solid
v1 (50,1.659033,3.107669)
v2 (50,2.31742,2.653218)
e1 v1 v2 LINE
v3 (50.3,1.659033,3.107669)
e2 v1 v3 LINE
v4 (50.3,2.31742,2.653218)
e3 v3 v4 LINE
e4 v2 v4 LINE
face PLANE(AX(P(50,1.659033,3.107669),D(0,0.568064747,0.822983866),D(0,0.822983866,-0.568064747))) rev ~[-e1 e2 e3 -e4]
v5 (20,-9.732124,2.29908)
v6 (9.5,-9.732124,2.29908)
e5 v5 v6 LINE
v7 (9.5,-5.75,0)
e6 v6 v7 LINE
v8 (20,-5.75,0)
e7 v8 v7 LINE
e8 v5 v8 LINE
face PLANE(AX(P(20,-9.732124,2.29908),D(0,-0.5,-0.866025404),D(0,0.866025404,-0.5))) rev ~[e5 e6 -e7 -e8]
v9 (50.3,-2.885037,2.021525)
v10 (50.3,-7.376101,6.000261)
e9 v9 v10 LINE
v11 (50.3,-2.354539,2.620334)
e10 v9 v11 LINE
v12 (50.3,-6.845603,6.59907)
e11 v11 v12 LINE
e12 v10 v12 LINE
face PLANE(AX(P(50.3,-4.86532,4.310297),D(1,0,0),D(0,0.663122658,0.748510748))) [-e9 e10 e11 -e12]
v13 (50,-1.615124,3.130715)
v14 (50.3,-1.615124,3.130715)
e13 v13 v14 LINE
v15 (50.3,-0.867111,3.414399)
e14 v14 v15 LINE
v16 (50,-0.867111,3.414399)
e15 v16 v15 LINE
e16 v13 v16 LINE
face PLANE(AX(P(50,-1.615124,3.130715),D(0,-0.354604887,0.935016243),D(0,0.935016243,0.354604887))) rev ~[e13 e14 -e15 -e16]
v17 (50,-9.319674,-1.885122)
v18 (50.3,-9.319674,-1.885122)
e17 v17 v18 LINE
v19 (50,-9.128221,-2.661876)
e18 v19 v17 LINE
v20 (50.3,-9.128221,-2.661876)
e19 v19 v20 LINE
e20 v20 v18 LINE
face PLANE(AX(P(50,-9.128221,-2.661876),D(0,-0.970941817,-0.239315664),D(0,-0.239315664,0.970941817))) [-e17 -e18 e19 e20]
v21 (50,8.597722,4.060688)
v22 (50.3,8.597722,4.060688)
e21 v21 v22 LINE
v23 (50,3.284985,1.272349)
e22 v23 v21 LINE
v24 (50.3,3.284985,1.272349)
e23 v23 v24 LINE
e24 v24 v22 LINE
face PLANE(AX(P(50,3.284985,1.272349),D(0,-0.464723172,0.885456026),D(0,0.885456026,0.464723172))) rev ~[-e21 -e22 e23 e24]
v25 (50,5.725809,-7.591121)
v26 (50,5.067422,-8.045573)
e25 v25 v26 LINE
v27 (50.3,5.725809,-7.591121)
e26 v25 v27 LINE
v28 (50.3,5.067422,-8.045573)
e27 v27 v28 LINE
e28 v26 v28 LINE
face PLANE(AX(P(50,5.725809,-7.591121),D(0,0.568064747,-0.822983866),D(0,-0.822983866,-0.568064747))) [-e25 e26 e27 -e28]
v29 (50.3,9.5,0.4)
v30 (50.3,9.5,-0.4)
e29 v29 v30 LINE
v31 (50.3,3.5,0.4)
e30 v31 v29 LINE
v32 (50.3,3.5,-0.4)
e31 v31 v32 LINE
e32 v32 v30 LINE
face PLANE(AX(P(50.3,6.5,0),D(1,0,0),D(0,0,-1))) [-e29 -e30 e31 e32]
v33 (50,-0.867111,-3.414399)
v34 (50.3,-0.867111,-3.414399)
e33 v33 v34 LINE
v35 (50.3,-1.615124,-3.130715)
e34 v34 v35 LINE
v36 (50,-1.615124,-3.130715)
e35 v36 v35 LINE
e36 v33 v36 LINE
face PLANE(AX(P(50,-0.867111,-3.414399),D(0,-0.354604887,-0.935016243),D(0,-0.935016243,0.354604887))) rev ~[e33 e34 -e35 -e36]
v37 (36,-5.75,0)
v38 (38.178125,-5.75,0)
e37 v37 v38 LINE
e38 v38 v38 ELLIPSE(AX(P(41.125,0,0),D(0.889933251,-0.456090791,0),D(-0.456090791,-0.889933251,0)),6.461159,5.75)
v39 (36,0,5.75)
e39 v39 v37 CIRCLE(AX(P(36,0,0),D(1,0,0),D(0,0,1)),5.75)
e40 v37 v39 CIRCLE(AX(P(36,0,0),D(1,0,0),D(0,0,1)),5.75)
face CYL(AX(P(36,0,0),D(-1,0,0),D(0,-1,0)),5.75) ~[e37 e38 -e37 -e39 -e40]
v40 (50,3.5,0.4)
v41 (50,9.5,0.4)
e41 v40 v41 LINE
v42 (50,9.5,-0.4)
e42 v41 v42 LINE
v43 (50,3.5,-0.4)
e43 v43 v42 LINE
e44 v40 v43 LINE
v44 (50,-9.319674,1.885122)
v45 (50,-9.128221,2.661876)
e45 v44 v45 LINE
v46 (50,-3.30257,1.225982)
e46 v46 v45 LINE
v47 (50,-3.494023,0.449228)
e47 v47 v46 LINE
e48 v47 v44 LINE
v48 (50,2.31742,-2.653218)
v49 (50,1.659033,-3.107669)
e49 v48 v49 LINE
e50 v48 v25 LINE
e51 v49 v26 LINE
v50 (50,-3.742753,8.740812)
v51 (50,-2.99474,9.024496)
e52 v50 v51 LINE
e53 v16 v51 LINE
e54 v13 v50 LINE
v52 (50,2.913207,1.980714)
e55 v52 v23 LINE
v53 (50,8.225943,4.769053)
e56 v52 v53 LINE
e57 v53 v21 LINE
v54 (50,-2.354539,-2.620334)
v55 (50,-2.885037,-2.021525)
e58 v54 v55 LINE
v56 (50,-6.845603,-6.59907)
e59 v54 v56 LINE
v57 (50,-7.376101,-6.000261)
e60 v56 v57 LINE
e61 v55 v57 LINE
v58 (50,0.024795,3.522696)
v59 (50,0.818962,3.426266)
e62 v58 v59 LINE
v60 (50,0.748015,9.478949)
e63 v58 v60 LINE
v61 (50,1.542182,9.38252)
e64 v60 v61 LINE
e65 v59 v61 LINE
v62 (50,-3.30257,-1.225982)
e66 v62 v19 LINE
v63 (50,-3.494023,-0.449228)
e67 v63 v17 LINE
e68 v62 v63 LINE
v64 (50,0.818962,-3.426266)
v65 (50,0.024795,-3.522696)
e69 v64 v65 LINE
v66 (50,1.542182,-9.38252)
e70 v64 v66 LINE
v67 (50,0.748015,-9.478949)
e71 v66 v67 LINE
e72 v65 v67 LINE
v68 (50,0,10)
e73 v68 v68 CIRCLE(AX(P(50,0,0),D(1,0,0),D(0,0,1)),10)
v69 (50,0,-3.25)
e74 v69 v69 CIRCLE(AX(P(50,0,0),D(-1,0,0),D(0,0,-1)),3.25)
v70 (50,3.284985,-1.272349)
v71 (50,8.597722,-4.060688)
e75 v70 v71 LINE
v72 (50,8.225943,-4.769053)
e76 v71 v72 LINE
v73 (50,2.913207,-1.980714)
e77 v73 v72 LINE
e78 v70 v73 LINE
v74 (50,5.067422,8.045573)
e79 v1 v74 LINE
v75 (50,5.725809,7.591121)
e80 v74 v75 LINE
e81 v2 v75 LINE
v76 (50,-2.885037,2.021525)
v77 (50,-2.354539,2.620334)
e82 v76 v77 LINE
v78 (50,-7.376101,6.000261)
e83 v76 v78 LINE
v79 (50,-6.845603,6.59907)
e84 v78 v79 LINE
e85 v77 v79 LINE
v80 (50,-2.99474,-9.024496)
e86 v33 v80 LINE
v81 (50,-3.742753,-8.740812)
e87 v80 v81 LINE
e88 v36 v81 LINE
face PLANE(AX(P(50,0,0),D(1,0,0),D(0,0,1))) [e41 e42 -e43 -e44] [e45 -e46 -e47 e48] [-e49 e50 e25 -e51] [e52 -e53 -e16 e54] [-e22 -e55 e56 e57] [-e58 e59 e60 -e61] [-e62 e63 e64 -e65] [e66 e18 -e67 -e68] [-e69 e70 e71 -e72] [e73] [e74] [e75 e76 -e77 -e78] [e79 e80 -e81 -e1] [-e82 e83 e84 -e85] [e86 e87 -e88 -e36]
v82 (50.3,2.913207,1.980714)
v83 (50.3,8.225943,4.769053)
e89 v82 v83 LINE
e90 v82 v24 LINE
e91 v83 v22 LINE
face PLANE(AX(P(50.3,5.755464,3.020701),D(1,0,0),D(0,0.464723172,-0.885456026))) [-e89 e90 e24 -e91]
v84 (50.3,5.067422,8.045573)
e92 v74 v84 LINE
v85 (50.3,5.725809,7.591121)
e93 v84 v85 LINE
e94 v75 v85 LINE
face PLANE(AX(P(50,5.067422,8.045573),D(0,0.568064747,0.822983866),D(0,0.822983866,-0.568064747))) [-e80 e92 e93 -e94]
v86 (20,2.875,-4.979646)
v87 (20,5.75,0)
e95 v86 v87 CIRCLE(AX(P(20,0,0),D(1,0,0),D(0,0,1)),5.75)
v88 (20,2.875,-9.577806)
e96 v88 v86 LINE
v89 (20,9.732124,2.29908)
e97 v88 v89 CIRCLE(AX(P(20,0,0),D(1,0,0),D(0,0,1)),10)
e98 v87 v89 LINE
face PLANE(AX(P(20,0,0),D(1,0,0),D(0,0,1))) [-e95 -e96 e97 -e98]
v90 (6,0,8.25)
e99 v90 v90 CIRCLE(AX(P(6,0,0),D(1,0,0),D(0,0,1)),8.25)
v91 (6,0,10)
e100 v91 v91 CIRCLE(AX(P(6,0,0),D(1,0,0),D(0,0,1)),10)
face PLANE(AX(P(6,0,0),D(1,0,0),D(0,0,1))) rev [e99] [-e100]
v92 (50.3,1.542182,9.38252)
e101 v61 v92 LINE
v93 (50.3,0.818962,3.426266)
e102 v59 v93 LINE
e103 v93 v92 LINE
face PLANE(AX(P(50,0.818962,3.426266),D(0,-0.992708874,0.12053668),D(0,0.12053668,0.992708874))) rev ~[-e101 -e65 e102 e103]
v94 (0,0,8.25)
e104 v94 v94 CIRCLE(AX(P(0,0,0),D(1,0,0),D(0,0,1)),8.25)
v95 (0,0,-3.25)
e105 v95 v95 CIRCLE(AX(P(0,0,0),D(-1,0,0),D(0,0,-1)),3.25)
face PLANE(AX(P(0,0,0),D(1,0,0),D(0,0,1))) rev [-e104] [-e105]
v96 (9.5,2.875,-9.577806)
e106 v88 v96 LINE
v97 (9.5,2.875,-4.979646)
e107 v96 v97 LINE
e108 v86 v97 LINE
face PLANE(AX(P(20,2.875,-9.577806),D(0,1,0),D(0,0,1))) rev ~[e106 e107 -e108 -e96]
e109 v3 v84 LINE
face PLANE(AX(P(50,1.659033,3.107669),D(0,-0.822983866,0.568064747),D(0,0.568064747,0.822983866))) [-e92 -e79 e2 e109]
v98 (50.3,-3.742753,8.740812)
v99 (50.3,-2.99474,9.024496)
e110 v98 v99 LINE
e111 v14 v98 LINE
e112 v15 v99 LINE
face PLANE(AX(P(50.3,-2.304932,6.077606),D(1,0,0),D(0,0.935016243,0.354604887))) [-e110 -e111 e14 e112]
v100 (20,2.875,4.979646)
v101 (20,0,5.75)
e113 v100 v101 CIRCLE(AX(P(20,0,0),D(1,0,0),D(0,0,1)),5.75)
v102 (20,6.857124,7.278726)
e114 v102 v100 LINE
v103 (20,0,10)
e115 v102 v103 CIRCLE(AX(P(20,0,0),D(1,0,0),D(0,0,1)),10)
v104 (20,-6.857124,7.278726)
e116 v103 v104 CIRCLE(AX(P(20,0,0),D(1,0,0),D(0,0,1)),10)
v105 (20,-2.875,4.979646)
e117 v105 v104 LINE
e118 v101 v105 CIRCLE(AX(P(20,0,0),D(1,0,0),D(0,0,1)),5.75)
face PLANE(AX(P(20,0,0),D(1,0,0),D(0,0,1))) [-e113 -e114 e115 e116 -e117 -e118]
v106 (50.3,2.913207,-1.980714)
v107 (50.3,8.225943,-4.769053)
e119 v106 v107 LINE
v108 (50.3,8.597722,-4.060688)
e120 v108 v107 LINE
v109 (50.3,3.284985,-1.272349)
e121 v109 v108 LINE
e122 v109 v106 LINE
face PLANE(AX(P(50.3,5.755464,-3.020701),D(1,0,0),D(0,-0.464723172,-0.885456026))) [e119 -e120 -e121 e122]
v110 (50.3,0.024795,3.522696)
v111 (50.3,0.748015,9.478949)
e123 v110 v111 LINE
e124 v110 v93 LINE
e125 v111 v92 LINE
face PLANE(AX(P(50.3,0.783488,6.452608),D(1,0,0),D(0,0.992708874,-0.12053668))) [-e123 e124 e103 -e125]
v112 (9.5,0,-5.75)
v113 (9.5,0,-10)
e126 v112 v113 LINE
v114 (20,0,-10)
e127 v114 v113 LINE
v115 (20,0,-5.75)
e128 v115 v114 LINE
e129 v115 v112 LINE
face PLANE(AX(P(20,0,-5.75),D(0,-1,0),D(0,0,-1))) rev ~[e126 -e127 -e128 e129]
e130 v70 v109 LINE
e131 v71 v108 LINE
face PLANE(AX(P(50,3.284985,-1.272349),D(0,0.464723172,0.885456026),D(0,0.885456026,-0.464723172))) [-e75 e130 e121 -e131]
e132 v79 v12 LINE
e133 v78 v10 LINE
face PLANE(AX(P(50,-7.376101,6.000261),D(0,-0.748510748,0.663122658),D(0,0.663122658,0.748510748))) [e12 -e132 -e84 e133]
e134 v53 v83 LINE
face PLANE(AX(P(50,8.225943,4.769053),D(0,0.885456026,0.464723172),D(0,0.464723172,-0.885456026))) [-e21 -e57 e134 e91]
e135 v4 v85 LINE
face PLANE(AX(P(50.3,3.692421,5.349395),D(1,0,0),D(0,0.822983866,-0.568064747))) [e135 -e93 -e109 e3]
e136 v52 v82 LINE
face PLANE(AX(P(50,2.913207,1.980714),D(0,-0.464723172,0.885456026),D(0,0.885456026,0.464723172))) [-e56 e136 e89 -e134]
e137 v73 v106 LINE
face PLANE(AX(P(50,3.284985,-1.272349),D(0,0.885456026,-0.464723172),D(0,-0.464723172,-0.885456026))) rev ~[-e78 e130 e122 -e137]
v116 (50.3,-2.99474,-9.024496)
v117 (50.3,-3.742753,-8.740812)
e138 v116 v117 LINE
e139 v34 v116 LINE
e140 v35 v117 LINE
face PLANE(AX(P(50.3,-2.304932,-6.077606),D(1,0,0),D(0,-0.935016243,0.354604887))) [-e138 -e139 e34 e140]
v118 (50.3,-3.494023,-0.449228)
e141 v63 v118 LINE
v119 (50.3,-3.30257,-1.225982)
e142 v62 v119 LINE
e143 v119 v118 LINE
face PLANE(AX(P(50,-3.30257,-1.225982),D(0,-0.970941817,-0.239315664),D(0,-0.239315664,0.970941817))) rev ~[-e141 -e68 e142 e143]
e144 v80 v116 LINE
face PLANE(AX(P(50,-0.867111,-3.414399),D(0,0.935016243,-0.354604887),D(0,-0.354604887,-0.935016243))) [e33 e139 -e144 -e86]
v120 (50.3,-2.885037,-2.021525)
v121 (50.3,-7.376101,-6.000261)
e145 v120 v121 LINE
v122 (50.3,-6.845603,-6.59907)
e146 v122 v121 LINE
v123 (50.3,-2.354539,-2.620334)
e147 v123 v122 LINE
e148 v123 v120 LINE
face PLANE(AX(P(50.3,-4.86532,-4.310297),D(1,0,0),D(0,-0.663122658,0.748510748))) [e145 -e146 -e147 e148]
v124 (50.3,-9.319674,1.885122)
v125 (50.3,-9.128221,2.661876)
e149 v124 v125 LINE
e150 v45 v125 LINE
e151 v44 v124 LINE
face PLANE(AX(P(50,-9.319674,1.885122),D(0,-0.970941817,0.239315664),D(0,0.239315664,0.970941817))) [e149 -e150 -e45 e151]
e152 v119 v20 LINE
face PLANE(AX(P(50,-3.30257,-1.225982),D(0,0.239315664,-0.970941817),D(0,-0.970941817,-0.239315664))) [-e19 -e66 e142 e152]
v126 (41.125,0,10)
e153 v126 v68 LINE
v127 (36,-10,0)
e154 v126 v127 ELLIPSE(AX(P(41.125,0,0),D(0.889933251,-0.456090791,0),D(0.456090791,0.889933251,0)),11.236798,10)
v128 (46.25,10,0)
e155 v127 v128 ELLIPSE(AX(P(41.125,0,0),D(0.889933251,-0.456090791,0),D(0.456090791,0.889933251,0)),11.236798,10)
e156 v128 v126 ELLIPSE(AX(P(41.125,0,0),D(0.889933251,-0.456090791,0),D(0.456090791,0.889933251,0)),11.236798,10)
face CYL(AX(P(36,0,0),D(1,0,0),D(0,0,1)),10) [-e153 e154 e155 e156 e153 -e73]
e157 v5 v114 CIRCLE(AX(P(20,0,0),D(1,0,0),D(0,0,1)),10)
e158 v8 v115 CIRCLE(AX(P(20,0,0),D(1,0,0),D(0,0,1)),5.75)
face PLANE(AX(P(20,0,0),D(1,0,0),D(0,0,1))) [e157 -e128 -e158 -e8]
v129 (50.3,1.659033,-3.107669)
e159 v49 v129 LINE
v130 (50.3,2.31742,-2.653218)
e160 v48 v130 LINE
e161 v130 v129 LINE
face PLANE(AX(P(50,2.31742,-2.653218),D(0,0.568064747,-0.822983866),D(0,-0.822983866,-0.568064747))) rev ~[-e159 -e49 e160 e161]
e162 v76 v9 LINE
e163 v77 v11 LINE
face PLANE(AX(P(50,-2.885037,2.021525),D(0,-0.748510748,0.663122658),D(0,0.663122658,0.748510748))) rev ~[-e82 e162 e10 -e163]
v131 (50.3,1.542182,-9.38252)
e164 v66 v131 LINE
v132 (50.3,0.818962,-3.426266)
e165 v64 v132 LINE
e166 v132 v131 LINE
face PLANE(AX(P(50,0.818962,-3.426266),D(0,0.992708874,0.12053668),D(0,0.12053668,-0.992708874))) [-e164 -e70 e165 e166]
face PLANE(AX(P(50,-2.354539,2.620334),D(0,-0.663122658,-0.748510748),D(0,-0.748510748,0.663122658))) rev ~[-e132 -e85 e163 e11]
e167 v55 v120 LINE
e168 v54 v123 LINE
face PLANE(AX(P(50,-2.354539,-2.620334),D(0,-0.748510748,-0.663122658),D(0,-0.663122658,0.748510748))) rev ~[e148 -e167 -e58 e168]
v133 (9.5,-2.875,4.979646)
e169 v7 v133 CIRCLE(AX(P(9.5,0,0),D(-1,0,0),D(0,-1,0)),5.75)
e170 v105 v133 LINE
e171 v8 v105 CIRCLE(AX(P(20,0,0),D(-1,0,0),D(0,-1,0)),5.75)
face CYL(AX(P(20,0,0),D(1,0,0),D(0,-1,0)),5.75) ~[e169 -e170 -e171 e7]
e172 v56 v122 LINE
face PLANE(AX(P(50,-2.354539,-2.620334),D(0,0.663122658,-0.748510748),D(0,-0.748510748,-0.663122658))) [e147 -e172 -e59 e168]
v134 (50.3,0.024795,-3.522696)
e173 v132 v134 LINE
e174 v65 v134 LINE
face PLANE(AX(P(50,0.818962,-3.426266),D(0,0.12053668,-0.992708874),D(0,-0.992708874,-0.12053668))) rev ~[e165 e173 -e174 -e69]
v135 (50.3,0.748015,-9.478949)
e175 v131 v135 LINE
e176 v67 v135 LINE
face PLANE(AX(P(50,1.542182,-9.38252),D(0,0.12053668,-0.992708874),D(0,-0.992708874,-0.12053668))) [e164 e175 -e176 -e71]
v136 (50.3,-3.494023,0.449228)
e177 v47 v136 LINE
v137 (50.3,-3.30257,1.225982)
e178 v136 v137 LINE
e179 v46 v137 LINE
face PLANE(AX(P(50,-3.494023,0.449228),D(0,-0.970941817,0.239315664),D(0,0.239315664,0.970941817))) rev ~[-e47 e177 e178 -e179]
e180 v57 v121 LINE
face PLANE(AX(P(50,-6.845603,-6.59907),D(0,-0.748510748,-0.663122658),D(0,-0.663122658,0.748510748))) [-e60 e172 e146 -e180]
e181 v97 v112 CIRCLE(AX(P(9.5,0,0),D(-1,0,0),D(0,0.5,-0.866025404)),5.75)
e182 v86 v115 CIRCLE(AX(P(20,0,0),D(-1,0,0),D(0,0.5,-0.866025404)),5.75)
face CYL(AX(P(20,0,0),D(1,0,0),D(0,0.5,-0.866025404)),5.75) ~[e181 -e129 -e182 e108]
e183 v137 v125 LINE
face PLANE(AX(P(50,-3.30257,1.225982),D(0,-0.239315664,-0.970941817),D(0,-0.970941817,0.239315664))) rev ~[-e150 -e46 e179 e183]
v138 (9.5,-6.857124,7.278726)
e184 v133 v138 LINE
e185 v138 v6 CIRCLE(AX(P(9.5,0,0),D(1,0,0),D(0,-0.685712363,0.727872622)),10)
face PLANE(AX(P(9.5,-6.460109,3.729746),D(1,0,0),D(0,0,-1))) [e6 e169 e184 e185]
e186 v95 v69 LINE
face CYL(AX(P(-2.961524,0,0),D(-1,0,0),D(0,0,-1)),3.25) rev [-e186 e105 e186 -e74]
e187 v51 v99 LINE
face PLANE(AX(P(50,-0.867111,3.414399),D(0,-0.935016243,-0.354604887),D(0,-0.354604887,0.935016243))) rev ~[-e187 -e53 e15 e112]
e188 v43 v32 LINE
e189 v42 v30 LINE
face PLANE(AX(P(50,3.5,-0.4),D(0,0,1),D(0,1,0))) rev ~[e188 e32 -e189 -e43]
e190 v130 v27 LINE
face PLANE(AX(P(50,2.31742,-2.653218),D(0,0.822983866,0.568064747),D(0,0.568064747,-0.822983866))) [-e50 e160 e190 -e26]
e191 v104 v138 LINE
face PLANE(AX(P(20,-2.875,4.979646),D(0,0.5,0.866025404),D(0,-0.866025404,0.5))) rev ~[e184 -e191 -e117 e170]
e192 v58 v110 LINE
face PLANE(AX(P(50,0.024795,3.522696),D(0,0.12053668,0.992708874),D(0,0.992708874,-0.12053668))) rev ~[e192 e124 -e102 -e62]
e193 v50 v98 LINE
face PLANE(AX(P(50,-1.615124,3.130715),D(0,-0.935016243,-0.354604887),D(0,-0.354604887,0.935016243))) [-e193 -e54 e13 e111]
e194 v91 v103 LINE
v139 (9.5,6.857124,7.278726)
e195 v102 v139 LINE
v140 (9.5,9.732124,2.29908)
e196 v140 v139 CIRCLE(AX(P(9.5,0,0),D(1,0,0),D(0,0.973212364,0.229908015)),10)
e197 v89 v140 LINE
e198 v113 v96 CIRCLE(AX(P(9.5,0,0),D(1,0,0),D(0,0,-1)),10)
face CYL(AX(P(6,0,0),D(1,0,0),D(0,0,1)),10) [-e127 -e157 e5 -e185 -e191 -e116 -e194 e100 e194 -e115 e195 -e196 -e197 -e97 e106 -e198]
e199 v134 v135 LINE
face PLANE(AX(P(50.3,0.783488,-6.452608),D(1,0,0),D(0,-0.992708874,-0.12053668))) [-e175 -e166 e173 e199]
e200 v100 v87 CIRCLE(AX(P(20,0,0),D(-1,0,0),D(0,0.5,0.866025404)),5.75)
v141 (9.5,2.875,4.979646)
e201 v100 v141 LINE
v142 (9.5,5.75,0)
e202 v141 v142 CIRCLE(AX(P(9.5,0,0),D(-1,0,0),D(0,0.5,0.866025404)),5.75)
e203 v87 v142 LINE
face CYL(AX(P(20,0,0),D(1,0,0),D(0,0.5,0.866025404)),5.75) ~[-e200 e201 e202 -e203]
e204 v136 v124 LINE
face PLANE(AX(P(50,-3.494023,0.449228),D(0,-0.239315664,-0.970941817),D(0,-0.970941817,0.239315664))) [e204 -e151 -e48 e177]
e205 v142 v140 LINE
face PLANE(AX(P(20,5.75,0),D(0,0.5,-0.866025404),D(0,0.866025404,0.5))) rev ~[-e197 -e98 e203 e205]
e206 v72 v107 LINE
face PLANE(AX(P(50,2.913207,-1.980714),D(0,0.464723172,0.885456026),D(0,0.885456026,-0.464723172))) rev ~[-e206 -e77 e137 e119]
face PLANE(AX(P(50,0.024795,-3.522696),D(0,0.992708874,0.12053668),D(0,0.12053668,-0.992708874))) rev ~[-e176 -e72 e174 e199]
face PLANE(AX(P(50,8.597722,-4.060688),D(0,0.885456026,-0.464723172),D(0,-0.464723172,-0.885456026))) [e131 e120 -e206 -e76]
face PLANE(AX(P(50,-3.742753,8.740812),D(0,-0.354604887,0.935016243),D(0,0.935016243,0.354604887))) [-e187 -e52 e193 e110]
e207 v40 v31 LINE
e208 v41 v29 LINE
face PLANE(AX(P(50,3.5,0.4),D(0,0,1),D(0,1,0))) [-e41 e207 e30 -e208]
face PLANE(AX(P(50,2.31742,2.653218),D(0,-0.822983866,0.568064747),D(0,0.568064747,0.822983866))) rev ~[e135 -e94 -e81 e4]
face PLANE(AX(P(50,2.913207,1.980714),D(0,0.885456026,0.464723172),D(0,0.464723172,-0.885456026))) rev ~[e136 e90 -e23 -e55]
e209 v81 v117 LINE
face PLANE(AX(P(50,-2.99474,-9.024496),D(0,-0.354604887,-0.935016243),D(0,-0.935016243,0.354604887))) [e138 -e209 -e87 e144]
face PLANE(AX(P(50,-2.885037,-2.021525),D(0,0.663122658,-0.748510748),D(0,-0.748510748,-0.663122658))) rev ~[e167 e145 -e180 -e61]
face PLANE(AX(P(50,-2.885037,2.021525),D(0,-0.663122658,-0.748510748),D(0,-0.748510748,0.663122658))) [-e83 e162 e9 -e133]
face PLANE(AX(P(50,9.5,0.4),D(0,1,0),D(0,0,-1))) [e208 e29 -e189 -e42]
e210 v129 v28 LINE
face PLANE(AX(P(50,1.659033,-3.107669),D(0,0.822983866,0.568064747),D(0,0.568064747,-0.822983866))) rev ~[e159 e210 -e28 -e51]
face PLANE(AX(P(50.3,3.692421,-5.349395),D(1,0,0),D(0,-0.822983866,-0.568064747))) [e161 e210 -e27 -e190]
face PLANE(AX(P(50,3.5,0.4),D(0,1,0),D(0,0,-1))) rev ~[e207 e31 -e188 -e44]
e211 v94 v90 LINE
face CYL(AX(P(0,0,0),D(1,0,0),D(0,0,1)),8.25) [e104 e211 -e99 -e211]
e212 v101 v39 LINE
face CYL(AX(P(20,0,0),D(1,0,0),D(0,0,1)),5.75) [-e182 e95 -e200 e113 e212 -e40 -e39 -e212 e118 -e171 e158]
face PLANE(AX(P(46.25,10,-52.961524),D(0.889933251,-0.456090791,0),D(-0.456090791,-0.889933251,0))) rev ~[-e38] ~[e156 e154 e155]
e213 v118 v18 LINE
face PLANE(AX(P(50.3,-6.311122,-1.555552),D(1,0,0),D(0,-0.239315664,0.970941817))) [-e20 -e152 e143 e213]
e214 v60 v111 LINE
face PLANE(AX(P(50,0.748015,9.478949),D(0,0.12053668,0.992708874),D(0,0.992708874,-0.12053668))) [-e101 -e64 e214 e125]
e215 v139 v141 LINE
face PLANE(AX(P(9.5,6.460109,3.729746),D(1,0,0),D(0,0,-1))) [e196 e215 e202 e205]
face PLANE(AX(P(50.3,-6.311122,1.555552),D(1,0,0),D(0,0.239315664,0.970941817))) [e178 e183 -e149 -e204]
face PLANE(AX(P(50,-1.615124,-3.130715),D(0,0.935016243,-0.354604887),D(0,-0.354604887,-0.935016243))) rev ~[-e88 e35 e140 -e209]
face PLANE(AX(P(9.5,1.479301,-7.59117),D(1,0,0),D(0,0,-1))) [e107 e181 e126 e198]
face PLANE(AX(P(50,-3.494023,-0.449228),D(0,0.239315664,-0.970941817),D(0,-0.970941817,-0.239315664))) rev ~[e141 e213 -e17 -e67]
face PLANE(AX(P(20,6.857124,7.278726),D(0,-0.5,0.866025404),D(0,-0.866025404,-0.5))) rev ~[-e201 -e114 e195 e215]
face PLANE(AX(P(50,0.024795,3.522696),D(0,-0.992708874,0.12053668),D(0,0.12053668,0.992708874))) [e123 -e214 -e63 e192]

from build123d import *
from build123d.topology import SkipClean

# Parameters (mm, degrees)
CUT_EXTRUDE_1_DEPTH      = 10.5
CUT_EXTRUDE_2_DEPTH      = 52.961524227
CUT_EXTRUDE_2_DEPTH_BACK = 52.961524227
EXTRUDE_1_REACH          = 40.678
SKETCH_4_R               = 5.75
CUT_EXTRUDE_3_DEPTH      = 52.961524227
CUT_EXTRUDE_3_DEPTH_BACK = 52.961524227
SKETCH_5_R               = 3.25
SKETCH_6_W               = 0.8
SKETCH_6_H               = 6
EXTRUDE_2_DEPTH          = 0.3
PATTERN_CIRCULAR_1_COUNT = 13


with BuildPart() as part:
    # 草图1 → 旋转1 (revolve)
    with BuildSketch(Plane.XY):
        Polygon((36, 0), (0, 0), (0, -8.25), (6, -8.25), (6, -10), (20, -10), (20, -5.75), (36, -5.75), align=None)
    revolve(axis=Axis((0, 0, 0), (1, 0, 0)))

    # 草图2 → 切除-拉伸1 (cut)
    with SkipClean():  # the faces are left unmerged after this step: merging them gives an invalid solid
        with BuildSketch(Plane(origin=(20, 0, 0), x_dir=(0, 0, -1), z_dir=(1, 0, 0))):
            with BuildLine():
                ThreePointArc((4.979646072, 2.875), (5.554073501, 1.488209509), (5.75, 0))
                Line((5.75, 0), (10, 0))
                ThreePointArc((10, 0), (9.893888613, 1.452917105), (9.577806377, 2.875))
                Line((9.577806377, 2.875), (4.979646072, 2.875))
            make_face()
            with BuildLine():
                ThreePointArc((-4.979646072, 2.875), (-2.875, 4.979646072), (0, 5.75))
                Line((0, 5.75), (-2.299080153, 9.732123635))
                ThreePointArc((-2.299080153, 9.732123635), (-5, 8.660254038), (-7.278726225, 6.857123635))
                Line((-7.278726225, 6.857123635), (-4.979646072, 2.875))
            make_face()
            with BuildLine():
                Line((-2.299080153, -9.732123635), (0, -5.75))
                ThreePointArc((0, -5.75), (-2.875, -4.979646072), (-4.979646072, -2.875))
                Line((-4.979646072, -2.875), (-7.278726225, -6.857123635))
                ThreePointArc((-7.278726225, -6.857123635), (-5, -8.660254038), (-2.299080153, -9.732123635))
            make_face()
        extrude(amount=-CUT_EXTRUDE_1_DEPTH, mode=Mode.SUBTRACT)


with BuildPart() as body_2:
    # 草图1<3> → 旋转2 (revolve)
    with BuildSketch(Plane.XY):
        Polygon((50, 0), (36, 0), (36, -5.75), (36, -10), (50, -10), align=None)
    revolve(axis=Axis((0, 0, 0), (1, 0, 0)))

    # 草图3 → 切除-拉伸2 (cut, two sides: drawn at the far end of the back side and taken through both)
    with BuildSketch(Plane.XY.offset(-CUT_EXTRUDE_2_DEPTH_BACK)):
        Polygon((36, -10), (36, 10), (46.25, 10), align=None)
    extrude(amount=CUT_EXTRUDE_2_DEPTH + CUT_EXTRUDE_2_DEPTH_BACK, mode=Mode.SUBTRACT)

    # 草图4 → 凸台-拉伸1 (add, up to next)
    with BuildSketch(Plane(origin=(36, 0, 0), x_dir=(0, 0, -1), z_dir=(1, 0, 0)), mode=Mode.PRIVATE) as extrude_1_sk1:
        Circle(SKETCH_4_R)
    extrude_1_tool1 = extrude(extrude_1_sk1.sketch, amount=EXTRUDE_1_REACH, mode=Mode.PRIVATE) - body_2.part

    add(part.part)  # 凸台-拉伸1 merges part
    add(extrude_1_tool1.solids().sort_by_distance((36, 0, 0))[0])

    # 草图5 → 切除-拉伸3 (cut, two sides: drawn at the far end of the back side and taken through both)
    with BuildSketch(Plane(origin=(50, 0, 0), x_dir=(0, 0, -1), z_dir=(1, 0, 0)).offset(-CUT_EXTRUDE_3_DEPTH_BACK)):
        Circle(SKETCH_5_R)
    extrude(amount=CUT_EXTRUDE_3_DEPTH + CUT_EXTRUDE_3_DEPTH_BACK, mode=Mode.SUBTRACT)

    # 草图6 → 凸台-拉伸2 (add)
    with BuildSketch(Plane(origin=(50, 0, 0), x_dir=(0, 0, -1), z_dir=(1, 0, 0))):
        with Locations((0, 6.5)):
            Rectangle(SKETCH_6_W, SKETCH_6_H)
    extrude_2 = extrude(amount=EXTRUDE_2_DEPTH)

    # 阵列(圆周)1: 凸台-拉伸2 ×13 about axis
    pattern_circular_1_axis = Axis((50, 0, 0), (-1, 0, 0))
    for i in range(1, PATTERN_CIRCULAR_1_COUNT):
        add(extrude_2.rotate(pattern_circular_1_axis, i * 360 / PATTERN_CIRCULAR_1_COUNT))


solid = body_2.part
